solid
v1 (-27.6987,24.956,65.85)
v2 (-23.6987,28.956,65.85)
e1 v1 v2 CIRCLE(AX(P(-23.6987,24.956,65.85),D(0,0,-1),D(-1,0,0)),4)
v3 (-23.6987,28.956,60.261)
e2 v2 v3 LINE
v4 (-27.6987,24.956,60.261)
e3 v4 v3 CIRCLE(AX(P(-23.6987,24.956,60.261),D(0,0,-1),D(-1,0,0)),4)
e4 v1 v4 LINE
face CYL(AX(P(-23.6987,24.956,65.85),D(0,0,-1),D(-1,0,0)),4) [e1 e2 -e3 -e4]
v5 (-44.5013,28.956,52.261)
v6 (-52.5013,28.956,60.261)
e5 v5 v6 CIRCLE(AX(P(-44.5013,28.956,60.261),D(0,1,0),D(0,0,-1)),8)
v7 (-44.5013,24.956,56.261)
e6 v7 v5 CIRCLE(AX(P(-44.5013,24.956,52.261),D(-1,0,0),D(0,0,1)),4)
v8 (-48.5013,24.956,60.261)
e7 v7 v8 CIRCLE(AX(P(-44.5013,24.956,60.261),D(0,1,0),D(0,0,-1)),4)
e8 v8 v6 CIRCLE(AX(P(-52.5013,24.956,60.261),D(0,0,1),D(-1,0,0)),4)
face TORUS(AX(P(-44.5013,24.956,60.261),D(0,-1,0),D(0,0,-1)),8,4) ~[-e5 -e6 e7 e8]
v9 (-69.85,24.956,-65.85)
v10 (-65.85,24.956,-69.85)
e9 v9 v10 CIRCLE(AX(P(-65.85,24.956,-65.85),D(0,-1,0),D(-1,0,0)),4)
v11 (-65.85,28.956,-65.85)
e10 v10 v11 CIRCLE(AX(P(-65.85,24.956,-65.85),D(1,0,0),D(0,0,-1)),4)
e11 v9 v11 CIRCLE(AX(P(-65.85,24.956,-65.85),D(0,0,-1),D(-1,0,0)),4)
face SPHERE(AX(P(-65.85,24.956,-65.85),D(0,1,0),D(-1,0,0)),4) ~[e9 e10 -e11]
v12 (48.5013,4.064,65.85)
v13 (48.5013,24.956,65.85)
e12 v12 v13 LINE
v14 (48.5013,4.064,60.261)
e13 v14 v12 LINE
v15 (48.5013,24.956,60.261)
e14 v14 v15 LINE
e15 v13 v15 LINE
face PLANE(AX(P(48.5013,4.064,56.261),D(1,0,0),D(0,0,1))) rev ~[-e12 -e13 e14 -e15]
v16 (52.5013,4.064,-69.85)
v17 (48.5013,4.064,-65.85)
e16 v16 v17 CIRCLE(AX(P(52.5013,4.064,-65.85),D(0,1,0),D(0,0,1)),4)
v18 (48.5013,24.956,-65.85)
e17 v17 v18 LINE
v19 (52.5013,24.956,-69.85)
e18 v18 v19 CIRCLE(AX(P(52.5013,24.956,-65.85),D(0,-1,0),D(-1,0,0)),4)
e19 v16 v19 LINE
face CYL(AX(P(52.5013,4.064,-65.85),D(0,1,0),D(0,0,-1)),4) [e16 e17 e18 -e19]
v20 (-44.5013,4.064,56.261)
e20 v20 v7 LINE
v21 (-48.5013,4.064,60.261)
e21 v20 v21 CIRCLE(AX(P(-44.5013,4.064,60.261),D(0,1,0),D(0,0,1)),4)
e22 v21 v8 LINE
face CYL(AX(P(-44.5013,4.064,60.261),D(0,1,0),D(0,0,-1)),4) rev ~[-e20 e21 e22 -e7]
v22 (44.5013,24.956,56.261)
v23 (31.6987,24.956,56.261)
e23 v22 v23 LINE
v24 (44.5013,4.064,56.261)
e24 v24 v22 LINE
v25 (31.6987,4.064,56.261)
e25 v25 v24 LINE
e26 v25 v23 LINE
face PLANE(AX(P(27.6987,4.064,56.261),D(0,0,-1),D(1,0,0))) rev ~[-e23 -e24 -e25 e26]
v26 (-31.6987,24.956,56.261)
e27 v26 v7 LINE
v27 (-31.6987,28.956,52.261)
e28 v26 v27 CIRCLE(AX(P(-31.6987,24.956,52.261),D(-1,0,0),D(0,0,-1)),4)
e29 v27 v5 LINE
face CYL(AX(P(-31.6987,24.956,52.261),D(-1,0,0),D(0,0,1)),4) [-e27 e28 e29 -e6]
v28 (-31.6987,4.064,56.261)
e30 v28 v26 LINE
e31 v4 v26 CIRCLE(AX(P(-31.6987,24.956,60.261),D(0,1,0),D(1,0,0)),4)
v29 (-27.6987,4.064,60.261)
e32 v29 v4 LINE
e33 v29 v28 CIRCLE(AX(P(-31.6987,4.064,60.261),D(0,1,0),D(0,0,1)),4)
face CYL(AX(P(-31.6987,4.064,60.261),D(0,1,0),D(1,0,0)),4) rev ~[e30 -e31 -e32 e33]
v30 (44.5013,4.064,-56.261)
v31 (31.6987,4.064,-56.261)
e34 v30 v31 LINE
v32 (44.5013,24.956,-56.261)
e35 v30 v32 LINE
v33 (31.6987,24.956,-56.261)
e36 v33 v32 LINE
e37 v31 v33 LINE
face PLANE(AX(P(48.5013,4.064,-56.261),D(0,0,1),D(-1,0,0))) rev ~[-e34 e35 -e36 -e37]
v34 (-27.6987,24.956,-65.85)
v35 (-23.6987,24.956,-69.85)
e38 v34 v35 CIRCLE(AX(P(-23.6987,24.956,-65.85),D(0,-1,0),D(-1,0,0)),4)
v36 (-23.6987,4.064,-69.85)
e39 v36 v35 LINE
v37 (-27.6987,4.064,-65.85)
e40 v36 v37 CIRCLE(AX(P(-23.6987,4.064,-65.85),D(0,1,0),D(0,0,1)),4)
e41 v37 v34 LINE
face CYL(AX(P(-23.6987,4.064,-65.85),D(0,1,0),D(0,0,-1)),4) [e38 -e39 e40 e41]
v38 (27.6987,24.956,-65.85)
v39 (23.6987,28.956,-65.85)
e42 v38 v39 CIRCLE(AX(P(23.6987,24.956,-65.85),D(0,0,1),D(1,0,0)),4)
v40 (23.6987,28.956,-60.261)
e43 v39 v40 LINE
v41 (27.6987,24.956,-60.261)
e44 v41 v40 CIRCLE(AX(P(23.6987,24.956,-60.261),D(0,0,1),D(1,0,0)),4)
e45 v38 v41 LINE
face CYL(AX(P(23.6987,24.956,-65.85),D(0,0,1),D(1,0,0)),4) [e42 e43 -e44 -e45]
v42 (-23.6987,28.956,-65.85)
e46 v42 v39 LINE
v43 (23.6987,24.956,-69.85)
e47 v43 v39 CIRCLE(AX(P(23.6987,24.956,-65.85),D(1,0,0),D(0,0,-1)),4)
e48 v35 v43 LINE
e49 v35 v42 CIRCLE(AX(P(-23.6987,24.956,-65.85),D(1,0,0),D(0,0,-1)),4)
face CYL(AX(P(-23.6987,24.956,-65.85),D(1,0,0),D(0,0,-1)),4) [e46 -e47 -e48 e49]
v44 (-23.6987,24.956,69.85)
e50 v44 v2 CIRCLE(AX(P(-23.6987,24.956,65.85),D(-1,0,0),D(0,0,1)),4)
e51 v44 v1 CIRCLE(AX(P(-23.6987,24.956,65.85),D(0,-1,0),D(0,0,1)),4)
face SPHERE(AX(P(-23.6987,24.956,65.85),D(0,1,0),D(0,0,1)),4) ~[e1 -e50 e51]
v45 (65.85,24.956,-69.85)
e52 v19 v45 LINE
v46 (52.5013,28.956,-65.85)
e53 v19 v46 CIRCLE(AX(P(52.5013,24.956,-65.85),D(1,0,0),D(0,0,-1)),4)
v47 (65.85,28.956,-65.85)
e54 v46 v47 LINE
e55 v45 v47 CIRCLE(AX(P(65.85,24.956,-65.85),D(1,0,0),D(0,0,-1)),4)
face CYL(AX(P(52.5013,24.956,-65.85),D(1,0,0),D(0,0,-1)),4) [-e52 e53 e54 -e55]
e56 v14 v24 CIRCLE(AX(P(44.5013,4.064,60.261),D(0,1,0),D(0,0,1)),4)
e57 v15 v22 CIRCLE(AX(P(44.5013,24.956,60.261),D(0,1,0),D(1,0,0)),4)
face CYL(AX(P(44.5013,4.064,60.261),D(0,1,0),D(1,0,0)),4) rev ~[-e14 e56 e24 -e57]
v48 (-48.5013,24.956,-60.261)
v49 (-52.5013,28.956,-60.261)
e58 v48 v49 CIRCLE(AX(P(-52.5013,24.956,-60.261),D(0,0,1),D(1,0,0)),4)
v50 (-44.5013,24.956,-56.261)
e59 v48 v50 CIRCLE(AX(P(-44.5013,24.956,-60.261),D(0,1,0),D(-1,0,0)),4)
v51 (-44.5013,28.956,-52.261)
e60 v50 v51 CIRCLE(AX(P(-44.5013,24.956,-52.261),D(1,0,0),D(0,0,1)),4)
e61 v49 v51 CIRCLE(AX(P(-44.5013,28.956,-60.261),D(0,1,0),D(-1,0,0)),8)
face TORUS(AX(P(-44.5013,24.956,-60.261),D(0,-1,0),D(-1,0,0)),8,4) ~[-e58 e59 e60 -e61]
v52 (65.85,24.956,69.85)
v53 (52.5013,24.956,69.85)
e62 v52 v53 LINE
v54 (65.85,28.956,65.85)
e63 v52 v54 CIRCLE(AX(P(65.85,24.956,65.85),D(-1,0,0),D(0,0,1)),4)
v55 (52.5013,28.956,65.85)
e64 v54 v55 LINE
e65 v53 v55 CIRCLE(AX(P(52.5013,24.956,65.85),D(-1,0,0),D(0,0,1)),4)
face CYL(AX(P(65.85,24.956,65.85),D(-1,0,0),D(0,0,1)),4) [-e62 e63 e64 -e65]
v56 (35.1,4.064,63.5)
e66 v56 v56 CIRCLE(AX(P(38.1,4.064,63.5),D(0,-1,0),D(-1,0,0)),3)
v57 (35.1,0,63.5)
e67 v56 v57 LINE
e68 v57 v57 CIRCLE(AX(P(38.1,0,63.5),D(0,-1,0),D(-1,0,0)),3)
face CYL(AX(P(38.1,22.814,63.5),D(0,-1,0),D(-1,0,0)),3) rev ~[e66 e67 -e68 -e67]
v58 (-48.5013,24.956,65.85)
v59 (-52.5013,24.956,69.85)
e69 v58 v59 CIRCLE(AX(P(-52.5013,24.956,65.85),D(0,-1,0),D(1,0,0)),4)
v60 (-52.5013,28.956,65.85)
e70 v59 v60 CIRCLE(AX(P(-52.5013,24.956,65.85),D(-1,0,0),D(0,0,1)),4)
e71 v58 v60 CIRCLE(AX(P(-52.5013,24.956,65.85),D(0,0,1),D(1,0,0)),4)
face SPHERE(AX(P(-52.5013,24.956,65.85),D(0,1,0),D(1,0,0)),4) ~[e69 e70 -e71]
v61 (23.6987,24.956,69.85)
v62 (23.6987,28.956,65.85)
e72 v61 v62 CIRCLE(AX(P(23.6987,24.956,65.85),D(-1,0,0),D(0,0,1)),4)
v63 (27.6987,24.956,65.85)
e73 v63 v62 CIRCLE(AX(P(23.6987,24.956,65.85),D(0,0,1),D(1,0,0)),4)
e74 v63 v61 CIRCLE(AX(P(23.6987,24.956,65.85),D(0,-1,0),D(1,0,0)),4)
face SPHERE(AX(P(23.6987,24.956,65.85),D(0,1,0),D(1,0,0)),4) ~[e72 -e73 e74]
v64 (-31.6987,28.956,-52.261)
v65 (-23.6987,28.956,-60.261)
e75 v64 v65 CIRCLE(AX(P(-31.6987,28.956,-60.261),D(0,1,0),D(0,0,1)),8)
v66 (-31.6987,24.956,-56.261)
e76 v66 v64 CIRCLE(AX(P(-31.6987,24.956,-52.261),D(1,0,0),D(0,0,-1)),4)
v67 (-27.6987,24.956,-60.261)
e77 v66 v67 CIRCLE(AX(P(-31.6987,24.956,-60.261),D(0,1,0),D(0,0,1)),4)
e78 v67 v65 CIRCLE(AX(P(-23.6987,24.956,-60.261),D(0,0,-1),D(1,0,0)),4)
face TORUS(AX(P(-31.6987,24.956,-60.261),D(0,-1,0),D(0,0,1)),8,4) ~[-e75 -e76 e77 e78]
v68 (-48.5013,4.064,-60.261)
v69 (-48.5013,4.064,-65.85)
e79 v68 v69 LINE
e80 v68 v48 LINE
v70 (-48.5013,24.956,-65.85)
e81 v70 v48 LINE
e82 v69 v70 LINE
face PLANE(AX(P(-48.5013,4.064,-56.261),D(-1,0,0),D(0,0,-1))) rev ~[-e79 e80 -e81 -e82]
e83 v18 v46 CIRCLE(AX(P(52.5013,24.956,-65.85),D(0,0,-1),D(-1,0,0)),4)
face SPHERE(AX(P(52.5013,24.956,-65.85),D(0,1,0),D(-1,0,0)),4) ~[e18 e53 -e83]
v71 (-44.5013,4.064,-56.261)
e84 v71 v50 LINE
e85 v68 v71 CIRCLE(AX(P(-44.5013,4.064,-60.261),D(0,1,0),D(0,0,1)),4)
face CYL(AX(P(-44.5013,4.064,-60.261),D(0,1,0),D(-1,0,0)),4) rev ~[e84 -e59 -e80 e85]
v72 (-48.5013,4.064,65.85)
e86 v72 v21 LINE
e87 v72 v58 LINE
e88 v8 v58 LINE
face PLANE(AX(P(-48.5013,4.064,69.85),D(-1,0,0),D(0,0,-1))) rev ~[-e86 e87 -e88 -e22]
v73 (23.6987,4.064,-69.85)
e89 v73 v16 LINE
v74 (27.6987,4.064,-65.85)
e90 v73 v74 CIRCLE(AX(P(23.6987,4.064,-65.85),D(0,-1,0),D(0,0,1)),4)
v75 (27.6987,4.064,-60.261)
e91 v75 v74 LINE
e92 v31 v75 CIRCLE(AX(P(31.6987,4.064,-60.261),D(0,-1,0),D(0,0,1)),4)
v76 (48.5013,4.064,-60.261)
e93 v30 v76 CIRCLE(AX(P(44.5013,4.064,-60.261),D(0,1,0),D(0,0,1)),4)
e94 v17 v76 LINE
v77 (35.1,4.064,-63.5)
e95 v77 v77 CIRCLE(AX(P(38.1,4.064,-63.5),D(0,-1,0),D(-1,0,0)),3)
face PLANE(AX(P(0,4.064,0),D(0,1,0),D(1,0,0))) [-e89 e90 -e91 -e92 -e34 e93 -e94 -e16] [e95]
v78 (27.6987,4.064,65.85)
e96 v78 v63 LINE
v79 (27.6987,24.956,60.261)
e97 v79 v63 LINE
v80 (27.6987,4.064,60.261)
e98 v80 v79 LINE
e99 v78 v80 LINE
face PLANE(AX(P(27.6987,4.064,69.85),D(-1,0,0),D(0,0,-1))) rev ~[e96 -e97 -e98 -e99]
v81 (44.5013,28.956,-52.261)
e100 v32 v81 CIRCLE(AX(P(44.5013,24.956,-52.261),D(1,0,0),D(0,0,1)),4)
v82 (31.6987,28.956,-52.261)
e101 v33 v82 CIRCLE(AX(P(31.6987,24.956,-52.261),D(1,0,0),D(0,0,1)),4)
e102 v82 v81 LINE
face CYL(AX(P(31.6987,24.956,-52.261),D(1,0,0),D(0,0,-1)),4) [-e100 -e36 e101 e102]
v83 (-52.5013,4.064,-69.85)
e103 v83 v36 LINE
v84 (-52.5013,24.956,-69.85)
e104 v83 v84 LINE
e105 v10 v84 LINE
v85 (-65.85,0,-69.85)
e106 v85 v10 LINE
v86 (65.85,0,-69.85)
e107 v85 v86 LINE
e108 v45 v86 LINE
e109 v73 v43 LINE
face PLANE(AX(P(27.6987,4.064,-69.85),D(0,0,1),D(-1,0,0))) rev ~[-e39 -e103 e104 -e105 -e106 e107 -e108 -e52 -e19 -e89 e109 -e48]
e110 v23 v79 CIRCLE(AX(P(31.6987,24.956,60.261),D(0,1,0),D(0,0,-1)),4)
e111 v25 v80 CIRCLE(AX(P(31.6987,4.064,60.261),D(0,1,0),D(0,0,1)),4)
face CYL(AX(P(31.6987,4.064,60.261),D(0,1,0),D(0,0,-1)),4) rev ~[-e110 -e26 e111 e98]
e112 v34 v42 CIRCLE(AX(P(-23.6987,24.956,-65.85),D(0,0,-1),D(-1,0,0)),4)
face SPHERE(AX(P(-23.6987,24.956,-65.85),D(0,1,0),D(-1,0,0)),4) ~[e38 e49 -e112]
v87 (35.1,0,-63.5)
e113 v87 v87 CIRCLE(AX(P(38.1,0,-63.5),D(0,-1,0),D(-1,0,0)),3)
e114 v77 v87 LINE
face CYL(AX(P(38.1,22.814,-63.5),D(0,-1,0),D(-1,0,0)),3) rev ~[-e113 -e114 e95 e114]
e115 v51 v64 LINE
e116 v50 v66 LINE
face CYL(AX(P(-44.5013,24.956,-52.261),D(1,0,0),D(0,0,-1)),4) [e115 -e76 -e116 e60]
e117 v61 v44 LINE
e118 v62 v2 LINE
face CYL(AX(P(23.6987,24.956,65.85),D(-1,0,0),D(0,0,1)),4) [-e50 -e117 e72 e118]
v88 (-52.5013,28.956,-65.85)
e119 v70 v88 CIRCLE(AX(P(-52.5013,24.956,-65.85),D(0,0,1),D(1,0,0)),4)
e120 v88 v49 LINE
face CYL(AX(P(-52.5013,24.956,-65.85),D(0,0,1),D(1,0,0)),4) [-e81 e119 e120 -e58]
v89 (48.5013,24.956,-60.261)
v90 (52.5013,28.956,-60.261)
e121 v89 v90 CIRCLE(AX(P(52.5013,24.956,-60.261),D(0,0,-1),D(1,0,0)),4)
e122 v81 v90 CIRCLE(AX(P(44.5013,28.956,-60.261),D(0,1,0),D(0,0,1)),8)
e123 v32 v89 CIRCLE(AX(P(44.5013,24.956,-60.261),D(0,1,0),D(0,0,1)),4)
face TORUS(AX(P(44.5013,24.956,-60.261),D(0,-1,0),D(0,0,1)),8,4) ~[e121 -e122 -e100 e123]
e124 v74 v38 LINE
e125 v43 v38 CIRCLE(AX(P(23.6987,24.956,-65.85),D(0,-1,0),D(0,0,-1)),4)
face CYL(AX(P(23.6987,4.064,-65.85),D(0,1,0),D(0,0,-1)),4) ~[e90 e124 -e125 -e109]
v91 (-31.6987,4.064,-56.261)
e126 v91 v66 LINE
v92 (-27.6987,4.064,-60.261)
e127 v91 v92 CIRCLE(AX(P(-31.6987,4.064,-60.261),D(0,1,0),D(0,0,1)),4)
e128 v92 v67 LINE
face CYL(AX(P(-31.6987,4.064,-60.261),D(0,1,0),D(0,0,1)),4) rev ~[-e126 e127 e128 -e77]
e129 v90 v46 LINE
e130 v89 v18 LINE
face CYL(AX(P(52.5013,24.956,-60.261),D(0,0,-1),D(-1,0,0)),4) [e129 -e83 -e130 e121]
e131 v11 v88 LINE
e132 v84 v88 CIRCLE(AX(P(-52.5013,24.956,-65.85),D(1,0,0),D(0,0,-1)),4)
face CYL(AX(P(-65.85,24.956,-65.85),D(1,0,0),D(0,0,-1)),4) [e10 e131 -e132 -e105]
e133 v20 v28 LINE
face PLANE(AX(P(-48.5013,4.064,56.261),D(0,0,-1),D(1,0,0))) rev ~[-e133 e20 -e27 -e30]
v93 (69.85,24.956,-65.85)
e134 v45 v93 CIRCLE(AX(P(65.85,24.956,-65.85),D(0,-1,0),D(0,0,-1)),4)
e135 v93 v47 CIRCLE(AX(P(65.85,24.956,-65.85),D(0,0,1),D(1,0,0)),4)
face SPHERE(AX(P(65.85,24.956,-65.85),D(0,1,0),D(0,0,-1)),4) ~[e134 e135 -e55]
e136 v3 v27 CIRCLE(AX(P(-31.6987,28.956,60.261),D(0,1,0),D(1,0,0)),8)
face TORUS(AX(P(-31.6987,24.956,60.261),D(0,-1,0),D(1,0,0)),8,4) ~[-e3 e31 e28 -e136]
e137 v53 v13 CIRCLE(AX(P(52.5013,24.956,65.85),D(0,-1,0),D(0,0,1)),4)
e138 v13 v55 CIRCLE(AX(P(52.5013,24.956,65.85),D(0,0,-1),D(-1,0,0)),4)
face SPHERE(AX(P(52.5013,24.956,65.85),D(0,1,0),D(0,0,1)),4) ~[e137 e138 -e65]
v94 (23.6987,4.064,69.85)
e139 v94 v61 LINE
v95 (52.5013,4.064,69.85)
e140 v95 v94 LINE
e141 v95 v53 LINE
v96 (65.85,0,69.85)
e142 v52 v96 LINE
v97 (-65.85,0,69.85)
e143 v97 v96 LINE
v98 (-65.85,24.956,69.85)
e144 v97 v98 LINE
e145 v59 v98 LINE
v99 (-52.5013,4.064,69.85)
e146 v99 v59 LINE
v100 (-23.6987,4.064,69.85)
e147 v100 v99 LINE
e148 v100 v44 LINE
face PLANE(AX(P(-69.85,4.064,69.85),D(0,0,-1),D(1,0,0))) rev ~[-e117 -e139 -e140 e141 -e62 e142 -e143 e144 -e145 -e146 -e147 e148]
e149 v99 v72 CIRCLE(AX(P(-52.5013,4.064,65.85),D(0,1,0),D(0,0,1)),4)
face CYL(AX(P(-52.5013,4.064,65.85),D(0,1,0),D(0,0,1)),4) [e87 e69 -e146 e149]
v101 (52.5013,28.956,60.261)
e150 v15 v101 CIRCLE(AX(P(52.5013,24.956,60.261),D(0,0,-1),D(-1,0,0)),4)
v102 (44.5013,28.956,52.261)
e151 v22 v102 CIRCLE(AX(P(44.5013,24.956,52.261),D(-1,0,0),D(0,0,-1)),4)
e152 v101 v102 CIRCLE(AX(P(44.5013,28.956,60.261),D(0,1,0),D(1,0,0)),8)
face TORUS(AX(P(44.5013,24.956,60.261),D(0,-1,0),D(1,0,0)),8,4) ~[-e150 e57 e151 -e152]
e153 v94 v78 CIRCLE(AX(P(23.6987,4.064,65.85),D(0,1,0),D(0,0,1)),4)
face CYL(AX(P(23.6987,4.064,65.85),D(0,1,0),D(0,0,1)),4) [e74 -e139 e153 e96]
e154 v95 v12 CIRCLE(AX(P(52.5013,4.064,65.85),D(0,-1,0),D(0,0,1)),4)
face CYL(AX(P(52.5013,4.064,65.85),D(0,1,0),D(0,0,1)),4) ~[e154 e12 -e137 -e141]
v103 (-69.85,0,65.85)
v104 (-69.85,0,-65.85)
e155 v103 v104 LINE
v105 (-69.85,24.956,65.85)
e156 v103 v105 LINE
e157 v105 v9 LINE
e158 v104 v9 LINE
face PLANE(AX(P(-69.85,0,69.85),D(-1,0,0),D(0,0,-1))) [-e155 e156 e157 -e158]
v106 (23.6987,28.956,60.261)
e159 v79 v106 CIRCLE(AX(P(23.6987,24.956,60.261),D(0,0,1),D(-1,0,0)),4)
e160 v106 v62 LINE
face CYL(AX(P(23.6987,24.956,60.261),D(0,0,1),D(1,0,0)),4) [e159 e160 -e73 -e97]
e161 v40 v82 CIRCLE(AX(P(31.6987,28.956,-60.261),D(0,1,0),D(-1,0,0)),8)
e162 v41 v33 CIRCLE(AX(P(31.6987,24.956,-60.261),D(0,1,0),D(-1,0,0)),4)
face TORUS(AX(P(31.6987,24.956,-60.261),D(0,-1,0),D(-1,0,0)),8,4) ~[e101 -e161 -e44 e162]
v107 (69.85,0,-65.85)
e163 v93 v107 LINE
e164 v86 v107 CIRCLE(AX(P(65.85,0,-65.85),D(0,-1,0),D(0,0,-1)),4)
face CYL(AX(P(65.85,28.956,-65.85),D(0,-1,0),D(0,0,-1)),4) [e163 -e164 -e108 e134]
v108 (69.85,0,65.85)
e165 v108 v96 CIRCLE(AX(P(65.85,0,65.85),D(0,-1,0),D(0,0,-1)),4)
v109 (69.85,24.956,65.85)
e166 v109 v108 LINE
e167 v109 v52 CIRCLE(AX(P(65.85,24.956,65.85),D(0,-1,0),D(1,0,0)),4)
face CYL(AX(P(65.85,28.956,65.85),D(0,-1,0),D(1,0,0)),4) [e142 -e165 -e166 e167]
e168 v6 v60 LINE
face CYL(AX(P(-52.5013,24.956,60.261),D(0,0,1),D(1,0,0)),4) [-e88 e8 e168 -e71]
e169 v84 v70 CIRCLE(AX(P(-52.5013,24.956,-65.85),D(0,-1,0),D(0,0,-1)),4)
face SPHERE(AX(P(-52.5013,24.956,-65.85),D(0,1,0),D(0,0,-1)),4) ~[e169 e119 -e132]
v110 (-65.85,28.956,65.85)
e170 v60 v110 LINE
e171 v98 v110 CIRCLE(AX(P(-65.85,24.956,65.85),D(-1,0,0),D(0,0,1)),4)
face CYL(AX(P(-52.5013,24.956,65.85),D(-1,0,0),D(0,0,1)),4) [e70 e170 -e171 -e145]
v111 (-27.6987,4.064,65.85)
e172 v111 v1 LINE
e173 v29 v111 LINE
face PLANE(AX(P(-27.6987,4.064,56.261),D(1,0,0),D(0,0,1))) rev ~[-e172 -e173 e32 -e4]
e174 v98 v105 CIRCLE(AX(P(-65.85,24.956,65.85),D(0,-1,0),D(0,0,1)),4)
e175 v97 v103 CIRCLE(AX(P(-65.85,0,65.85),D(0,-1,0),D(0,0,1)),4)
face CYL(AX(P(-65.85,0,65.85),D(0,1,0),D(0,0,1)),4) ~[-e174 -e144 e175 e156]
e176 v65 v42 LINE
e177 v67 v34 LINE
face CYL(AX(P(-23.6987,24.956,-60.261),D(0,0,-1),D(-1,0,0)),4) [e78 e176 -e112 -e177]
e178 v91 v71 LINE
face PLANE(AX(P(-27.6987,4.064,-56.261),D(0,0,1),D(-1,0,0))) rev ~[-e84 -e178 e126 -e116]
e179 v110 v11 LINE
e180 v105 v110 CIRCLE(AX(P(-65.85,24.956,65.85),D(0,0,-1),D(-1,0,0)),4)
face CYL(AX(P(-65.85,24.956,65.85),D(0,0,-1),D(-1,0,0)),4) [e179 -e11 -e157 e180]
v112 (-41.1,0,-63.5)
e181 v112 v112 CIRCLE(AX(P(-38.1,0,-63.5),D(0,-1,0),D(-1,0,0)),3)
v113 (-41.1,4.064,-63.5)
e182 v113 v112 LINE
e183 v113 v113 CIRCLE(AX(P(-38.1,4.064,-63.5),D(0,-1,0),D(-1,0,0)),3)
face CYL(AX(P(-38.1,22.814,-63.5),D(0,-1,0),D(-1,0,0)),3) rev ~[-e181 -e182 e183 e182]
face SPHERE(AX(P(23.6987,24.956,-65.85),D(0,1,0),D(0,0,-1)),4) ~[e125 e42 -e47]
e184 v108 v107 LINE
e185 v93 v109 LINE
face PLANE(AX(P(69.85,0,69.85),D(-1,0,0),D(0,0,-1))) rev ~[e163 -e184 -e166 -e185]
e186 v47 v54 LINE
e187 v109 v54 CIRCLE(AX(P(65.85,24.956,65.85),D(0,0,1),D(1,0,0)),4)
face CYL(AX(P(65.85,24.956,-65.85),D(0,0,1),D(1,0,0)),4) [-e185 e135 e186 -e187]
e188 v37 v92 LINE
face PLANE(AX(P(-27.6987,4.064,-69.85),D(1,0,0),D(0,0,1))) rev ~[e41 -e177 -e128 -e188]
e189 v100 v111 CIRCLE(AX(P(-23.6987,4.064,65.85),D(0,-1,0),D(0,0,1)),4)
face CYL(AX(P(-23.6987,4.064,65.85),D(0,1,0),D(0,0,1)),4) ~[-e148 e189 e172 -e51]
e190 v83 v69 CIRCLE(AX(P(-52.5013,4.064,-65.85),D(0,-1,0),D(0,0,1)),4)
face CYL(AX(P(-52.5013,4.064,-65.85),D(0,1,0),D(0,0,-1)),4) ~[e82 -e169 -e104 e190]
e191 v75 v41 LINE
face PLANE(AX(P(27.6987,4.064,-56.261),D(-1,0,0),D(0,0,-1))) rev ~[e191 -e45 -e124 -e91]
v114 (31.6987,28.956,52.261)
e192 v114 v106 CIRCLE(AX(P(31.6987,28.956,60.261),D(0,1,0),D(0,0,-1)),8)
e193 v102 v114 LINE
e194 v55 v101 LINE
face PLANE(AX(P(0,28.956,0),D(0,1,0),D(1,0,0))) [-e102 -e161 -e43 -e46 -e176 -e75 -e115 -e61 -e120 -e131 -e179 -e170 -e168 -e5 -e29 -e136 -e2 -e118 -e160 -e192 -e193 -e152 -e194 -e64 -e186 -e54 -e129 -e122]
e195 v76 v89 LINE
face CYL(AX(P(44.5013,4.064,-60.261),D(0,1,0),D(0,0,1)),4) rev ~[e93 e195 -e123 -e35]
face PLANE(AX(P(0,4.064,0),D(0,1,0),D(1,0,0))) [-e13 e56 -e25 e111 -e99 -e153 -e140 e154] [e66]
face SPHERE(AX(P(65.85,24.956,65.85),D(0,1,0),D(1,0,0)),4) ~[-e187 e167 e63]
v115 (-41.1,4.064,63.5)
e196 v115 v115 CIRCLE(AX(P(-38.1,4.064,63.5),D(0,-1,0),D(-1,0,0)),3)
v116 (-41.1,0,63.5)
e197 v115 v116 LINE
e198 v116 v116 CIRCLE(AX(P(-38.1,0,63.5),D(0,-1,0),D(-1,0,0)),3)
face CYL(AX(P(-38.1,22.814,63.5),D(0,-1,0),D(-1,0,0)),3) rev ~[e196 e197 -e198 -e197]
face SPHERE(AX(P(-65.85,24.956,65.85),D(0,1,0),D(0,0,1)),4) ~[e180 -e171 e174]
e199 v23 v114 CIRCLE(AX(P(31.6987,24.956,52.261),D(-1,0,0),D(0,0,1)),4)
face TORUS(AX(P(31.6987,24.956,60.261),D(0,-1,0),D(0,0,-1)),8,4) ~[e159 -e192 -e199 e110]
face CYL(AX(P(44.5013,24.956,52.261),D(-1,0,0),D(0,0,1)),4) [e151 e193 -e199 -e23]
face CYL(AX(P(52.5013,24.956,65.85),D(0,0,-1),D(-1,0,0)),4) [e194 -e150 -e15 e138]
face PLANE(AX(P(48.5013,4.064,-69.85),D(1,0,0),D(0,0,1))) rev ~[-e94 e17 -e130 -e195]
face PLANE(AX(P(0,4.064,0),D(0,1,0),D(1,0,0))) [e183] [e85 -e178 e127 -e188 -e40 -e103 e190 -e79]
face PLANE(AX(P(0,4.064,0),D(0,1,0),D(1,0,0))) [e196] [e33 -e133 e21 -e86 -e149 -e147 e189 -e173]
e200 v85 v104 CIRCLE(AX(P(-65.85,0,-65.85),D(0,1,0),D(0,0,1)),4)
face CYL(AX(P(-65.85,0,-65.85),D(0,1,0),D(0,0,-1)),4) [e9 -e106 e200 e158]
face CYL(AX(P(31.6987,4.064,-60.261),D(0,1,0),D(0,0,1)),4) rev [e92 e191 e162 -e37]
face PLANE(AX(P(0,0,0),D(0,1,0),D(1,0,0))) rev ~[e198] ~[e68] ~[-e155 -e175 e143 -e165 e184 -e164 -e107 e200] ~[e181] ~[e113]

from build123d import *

# Parameters (mm, degrees)
SKETCH1_W                    = 139.7
SKETCH1_H                    = 139.7
BOSS_EXTRUDE1_DEPTH          = 4.064
BOSS_EXTRUDE2_DEPTH          = 24.892
FILLET1_R                    = 4
FILLET2_R                    = 4
F_6_0_6_DIAMETER_HOLE1_D     = 6
F_6_0_6_DIAMETER_HOLE1_DEPTH = 18.75
F_6_0_6_DIAMETER_HOLE1_TIP   = 1.802581857


with BuildPart() as part:
    # Sketch1 → Boss-Extrude1 (new body)
    with BuildSketch(Plane(origin=(0, 0, 0), x_dir=(1, 0, 0), z_dir=(0, 1, 0))):
        Rectangle(SKETCH1_W, SKETCH1_H)
    extrude(amount=BOSS_EXTRUDE1_DEPTH)

    # Sketch2 → Boss-Extrude2 (add)
    with BuildSketch(Plane(origin=(0, 4.064, 0), x_dir=(1, 0, 0), z_dir=(0, 1, 0))):
        Polygon((27.6987, 69.85), (-27.6987, 69.85), (-27.6987, 56.261), (-48.5013, 56.261), (-48.5013, 69.85), (-69.85, 69.85), (-69.85, -69.85), (-48.5013, -69.85), (-48.5013, -56.261), (-27.6987, -56.261), (-27.6987, -69.85), (27.6987, -69.85), (27.6987, -56.261), (48.5013, -56.261), (48.5013, -69.85), (69.85, -69.85), (69.85, 69.85), (48.5013, 69.85), (48.5013, 56.261), (27.6987, 56.261), align=None)
    extrude(amount=BOSS_EXTRUDE2_DEPTH)

    # Fillet1
    fillet1_edges = [part.edges().sort_by_distance(p)[0] for p in [
        (48.5013, 16.51, 69.85),
        (48.5013, 16.51, -69.85),
        (48.5013, 16.51, -56.261),
        (27.6987, 16.51, -56.261),
        (27.6987, 16.51, -69.85),
        (-27.6987, 16.51, -69.85),
        (-27.6987, 16.51, -56.261),
        (-48.5013, 16.51, -56.261),
        (-48.5013, 16.51, -69.85),
        (-48.5013, 16.51, 69.85),
        (-48.5013, 16.51, 56.261),
        (-27.6987, 16.51, 56.261),
        (-27.6987, 16.51, 69.85),
        (27.6987, 16.51, 69.85),
        (27.6987, 16.51, 56.261),
        (48.5013, 16.51, 56.261),
        (69.85, 14.478, 69.85),
        (-69.85, 14.478, 69.85),
        (-69.85, 14.478, -69.85),
        (69.85, 14.478, -69.85),
    ]]
    fillet(fillet1_edges, radius=FILLET1_R)

    # Fillet2
    fillet2_edges = [part.edges().sort_by_distance(p)[0] for p in [
        (47.329727125, 28.956, -57.432572875),
        (28.870272875, 28.956, -57.432572875),
        (-28.870272875, 28.956, -57.432572875),
        (-47.329727125, 28.956, -57.432572875),
        (-47.329727125, 28.956, 57.432572875),
        (-28.870272875, 28.956, 57.432572875),
        (47.329727125, 28.956, 57.432572875),
        (28.870272875, 28.956, 57.432572875),
        (-59.17565, 28.956, -69.85),
        (0, 28.956, -69.85),
        (59.17565, 28.956, -69.85),
        (69.85, 28.956, 0),
        (59.17565, 28.956, 69.85),
        (48.5013, 28.956, -63.0555),
        (38.1, 28.956, -56.261),
        (27.6987, 28.956, -63.0555),
        (-27.6987, 28.956, -63.0555),
        (-38.1, 28.956, -56.261),
        (-48.5013, 28.956, -63.0555),
        (-69.85, 28.956, 0),
        (-59.17565, 28.956, 69.85),
        (-48.5013, 28.956, 63.0555),
        (-38.1, 28.956, 56.261),
        (-27.6987, 28.956, 63.0555),
        (0, 28.956, 69.85),
        (27.6987, 28.956, 63.0555),
        (38.1, 28.956, 56.261),
        (48.5013, 28.956, 63.0555),
        (68.678427125, 28.956, 68.678427125),
        (26.527127125, 28.956, 68.678427125),
        (49.672872875, 28.956, 68.678427125),
        (-26.527127125, 28.956, 68.678427125),
        (-49.672872875, 28.956, 68.678427125),
        (-68.678427125, 28.956, 68.678427125),
        (-68.678427125, 28.956, -68.678427125),
        (-49.672872875, 28.956, -68.678427125),
        (-26.527127125, 28.956, -68.678427125),
        (26.527127125, 28.956, -68.678427125),
        (49.672872875, 28.956, -68.678427125),
        (68.678427125, 28.956, -68.678427125),
    ]]
    fillet(fillet2_edges, radius=FILLET2_R)

    # Ø6.0 (6) Diameter Hole1
    with Locations(Plane(origin=(0, 4.064, 0), x_dir=(1, 0, 0), z_dir=(0, 1, 0))):
        with Locations((-38.1, 63.5), (38.1, 63.5), (38.1, -63.5), (-38.1, -63.5)):
            Hole(F_6_0_6_DIAMETER_HOLE1_D / 2, depth=F_6_0_6_DIAMETER_HOLE1_DEPTH)
            with Locations((0, 0, -(F_6_0_6_DIAMETER_HOLE1_DEPTH + F_6_0_6_DIAMETER_HOLE1_TIP / 2))):  # 118° drill point
                Cone(0, F_6_0_6_DIAMETER_HOLE1_D / 2, F_6_0_6_DIAMETER_HOLE1_TIP, mode=Mode.SUBTRACT)


solid = part.part
